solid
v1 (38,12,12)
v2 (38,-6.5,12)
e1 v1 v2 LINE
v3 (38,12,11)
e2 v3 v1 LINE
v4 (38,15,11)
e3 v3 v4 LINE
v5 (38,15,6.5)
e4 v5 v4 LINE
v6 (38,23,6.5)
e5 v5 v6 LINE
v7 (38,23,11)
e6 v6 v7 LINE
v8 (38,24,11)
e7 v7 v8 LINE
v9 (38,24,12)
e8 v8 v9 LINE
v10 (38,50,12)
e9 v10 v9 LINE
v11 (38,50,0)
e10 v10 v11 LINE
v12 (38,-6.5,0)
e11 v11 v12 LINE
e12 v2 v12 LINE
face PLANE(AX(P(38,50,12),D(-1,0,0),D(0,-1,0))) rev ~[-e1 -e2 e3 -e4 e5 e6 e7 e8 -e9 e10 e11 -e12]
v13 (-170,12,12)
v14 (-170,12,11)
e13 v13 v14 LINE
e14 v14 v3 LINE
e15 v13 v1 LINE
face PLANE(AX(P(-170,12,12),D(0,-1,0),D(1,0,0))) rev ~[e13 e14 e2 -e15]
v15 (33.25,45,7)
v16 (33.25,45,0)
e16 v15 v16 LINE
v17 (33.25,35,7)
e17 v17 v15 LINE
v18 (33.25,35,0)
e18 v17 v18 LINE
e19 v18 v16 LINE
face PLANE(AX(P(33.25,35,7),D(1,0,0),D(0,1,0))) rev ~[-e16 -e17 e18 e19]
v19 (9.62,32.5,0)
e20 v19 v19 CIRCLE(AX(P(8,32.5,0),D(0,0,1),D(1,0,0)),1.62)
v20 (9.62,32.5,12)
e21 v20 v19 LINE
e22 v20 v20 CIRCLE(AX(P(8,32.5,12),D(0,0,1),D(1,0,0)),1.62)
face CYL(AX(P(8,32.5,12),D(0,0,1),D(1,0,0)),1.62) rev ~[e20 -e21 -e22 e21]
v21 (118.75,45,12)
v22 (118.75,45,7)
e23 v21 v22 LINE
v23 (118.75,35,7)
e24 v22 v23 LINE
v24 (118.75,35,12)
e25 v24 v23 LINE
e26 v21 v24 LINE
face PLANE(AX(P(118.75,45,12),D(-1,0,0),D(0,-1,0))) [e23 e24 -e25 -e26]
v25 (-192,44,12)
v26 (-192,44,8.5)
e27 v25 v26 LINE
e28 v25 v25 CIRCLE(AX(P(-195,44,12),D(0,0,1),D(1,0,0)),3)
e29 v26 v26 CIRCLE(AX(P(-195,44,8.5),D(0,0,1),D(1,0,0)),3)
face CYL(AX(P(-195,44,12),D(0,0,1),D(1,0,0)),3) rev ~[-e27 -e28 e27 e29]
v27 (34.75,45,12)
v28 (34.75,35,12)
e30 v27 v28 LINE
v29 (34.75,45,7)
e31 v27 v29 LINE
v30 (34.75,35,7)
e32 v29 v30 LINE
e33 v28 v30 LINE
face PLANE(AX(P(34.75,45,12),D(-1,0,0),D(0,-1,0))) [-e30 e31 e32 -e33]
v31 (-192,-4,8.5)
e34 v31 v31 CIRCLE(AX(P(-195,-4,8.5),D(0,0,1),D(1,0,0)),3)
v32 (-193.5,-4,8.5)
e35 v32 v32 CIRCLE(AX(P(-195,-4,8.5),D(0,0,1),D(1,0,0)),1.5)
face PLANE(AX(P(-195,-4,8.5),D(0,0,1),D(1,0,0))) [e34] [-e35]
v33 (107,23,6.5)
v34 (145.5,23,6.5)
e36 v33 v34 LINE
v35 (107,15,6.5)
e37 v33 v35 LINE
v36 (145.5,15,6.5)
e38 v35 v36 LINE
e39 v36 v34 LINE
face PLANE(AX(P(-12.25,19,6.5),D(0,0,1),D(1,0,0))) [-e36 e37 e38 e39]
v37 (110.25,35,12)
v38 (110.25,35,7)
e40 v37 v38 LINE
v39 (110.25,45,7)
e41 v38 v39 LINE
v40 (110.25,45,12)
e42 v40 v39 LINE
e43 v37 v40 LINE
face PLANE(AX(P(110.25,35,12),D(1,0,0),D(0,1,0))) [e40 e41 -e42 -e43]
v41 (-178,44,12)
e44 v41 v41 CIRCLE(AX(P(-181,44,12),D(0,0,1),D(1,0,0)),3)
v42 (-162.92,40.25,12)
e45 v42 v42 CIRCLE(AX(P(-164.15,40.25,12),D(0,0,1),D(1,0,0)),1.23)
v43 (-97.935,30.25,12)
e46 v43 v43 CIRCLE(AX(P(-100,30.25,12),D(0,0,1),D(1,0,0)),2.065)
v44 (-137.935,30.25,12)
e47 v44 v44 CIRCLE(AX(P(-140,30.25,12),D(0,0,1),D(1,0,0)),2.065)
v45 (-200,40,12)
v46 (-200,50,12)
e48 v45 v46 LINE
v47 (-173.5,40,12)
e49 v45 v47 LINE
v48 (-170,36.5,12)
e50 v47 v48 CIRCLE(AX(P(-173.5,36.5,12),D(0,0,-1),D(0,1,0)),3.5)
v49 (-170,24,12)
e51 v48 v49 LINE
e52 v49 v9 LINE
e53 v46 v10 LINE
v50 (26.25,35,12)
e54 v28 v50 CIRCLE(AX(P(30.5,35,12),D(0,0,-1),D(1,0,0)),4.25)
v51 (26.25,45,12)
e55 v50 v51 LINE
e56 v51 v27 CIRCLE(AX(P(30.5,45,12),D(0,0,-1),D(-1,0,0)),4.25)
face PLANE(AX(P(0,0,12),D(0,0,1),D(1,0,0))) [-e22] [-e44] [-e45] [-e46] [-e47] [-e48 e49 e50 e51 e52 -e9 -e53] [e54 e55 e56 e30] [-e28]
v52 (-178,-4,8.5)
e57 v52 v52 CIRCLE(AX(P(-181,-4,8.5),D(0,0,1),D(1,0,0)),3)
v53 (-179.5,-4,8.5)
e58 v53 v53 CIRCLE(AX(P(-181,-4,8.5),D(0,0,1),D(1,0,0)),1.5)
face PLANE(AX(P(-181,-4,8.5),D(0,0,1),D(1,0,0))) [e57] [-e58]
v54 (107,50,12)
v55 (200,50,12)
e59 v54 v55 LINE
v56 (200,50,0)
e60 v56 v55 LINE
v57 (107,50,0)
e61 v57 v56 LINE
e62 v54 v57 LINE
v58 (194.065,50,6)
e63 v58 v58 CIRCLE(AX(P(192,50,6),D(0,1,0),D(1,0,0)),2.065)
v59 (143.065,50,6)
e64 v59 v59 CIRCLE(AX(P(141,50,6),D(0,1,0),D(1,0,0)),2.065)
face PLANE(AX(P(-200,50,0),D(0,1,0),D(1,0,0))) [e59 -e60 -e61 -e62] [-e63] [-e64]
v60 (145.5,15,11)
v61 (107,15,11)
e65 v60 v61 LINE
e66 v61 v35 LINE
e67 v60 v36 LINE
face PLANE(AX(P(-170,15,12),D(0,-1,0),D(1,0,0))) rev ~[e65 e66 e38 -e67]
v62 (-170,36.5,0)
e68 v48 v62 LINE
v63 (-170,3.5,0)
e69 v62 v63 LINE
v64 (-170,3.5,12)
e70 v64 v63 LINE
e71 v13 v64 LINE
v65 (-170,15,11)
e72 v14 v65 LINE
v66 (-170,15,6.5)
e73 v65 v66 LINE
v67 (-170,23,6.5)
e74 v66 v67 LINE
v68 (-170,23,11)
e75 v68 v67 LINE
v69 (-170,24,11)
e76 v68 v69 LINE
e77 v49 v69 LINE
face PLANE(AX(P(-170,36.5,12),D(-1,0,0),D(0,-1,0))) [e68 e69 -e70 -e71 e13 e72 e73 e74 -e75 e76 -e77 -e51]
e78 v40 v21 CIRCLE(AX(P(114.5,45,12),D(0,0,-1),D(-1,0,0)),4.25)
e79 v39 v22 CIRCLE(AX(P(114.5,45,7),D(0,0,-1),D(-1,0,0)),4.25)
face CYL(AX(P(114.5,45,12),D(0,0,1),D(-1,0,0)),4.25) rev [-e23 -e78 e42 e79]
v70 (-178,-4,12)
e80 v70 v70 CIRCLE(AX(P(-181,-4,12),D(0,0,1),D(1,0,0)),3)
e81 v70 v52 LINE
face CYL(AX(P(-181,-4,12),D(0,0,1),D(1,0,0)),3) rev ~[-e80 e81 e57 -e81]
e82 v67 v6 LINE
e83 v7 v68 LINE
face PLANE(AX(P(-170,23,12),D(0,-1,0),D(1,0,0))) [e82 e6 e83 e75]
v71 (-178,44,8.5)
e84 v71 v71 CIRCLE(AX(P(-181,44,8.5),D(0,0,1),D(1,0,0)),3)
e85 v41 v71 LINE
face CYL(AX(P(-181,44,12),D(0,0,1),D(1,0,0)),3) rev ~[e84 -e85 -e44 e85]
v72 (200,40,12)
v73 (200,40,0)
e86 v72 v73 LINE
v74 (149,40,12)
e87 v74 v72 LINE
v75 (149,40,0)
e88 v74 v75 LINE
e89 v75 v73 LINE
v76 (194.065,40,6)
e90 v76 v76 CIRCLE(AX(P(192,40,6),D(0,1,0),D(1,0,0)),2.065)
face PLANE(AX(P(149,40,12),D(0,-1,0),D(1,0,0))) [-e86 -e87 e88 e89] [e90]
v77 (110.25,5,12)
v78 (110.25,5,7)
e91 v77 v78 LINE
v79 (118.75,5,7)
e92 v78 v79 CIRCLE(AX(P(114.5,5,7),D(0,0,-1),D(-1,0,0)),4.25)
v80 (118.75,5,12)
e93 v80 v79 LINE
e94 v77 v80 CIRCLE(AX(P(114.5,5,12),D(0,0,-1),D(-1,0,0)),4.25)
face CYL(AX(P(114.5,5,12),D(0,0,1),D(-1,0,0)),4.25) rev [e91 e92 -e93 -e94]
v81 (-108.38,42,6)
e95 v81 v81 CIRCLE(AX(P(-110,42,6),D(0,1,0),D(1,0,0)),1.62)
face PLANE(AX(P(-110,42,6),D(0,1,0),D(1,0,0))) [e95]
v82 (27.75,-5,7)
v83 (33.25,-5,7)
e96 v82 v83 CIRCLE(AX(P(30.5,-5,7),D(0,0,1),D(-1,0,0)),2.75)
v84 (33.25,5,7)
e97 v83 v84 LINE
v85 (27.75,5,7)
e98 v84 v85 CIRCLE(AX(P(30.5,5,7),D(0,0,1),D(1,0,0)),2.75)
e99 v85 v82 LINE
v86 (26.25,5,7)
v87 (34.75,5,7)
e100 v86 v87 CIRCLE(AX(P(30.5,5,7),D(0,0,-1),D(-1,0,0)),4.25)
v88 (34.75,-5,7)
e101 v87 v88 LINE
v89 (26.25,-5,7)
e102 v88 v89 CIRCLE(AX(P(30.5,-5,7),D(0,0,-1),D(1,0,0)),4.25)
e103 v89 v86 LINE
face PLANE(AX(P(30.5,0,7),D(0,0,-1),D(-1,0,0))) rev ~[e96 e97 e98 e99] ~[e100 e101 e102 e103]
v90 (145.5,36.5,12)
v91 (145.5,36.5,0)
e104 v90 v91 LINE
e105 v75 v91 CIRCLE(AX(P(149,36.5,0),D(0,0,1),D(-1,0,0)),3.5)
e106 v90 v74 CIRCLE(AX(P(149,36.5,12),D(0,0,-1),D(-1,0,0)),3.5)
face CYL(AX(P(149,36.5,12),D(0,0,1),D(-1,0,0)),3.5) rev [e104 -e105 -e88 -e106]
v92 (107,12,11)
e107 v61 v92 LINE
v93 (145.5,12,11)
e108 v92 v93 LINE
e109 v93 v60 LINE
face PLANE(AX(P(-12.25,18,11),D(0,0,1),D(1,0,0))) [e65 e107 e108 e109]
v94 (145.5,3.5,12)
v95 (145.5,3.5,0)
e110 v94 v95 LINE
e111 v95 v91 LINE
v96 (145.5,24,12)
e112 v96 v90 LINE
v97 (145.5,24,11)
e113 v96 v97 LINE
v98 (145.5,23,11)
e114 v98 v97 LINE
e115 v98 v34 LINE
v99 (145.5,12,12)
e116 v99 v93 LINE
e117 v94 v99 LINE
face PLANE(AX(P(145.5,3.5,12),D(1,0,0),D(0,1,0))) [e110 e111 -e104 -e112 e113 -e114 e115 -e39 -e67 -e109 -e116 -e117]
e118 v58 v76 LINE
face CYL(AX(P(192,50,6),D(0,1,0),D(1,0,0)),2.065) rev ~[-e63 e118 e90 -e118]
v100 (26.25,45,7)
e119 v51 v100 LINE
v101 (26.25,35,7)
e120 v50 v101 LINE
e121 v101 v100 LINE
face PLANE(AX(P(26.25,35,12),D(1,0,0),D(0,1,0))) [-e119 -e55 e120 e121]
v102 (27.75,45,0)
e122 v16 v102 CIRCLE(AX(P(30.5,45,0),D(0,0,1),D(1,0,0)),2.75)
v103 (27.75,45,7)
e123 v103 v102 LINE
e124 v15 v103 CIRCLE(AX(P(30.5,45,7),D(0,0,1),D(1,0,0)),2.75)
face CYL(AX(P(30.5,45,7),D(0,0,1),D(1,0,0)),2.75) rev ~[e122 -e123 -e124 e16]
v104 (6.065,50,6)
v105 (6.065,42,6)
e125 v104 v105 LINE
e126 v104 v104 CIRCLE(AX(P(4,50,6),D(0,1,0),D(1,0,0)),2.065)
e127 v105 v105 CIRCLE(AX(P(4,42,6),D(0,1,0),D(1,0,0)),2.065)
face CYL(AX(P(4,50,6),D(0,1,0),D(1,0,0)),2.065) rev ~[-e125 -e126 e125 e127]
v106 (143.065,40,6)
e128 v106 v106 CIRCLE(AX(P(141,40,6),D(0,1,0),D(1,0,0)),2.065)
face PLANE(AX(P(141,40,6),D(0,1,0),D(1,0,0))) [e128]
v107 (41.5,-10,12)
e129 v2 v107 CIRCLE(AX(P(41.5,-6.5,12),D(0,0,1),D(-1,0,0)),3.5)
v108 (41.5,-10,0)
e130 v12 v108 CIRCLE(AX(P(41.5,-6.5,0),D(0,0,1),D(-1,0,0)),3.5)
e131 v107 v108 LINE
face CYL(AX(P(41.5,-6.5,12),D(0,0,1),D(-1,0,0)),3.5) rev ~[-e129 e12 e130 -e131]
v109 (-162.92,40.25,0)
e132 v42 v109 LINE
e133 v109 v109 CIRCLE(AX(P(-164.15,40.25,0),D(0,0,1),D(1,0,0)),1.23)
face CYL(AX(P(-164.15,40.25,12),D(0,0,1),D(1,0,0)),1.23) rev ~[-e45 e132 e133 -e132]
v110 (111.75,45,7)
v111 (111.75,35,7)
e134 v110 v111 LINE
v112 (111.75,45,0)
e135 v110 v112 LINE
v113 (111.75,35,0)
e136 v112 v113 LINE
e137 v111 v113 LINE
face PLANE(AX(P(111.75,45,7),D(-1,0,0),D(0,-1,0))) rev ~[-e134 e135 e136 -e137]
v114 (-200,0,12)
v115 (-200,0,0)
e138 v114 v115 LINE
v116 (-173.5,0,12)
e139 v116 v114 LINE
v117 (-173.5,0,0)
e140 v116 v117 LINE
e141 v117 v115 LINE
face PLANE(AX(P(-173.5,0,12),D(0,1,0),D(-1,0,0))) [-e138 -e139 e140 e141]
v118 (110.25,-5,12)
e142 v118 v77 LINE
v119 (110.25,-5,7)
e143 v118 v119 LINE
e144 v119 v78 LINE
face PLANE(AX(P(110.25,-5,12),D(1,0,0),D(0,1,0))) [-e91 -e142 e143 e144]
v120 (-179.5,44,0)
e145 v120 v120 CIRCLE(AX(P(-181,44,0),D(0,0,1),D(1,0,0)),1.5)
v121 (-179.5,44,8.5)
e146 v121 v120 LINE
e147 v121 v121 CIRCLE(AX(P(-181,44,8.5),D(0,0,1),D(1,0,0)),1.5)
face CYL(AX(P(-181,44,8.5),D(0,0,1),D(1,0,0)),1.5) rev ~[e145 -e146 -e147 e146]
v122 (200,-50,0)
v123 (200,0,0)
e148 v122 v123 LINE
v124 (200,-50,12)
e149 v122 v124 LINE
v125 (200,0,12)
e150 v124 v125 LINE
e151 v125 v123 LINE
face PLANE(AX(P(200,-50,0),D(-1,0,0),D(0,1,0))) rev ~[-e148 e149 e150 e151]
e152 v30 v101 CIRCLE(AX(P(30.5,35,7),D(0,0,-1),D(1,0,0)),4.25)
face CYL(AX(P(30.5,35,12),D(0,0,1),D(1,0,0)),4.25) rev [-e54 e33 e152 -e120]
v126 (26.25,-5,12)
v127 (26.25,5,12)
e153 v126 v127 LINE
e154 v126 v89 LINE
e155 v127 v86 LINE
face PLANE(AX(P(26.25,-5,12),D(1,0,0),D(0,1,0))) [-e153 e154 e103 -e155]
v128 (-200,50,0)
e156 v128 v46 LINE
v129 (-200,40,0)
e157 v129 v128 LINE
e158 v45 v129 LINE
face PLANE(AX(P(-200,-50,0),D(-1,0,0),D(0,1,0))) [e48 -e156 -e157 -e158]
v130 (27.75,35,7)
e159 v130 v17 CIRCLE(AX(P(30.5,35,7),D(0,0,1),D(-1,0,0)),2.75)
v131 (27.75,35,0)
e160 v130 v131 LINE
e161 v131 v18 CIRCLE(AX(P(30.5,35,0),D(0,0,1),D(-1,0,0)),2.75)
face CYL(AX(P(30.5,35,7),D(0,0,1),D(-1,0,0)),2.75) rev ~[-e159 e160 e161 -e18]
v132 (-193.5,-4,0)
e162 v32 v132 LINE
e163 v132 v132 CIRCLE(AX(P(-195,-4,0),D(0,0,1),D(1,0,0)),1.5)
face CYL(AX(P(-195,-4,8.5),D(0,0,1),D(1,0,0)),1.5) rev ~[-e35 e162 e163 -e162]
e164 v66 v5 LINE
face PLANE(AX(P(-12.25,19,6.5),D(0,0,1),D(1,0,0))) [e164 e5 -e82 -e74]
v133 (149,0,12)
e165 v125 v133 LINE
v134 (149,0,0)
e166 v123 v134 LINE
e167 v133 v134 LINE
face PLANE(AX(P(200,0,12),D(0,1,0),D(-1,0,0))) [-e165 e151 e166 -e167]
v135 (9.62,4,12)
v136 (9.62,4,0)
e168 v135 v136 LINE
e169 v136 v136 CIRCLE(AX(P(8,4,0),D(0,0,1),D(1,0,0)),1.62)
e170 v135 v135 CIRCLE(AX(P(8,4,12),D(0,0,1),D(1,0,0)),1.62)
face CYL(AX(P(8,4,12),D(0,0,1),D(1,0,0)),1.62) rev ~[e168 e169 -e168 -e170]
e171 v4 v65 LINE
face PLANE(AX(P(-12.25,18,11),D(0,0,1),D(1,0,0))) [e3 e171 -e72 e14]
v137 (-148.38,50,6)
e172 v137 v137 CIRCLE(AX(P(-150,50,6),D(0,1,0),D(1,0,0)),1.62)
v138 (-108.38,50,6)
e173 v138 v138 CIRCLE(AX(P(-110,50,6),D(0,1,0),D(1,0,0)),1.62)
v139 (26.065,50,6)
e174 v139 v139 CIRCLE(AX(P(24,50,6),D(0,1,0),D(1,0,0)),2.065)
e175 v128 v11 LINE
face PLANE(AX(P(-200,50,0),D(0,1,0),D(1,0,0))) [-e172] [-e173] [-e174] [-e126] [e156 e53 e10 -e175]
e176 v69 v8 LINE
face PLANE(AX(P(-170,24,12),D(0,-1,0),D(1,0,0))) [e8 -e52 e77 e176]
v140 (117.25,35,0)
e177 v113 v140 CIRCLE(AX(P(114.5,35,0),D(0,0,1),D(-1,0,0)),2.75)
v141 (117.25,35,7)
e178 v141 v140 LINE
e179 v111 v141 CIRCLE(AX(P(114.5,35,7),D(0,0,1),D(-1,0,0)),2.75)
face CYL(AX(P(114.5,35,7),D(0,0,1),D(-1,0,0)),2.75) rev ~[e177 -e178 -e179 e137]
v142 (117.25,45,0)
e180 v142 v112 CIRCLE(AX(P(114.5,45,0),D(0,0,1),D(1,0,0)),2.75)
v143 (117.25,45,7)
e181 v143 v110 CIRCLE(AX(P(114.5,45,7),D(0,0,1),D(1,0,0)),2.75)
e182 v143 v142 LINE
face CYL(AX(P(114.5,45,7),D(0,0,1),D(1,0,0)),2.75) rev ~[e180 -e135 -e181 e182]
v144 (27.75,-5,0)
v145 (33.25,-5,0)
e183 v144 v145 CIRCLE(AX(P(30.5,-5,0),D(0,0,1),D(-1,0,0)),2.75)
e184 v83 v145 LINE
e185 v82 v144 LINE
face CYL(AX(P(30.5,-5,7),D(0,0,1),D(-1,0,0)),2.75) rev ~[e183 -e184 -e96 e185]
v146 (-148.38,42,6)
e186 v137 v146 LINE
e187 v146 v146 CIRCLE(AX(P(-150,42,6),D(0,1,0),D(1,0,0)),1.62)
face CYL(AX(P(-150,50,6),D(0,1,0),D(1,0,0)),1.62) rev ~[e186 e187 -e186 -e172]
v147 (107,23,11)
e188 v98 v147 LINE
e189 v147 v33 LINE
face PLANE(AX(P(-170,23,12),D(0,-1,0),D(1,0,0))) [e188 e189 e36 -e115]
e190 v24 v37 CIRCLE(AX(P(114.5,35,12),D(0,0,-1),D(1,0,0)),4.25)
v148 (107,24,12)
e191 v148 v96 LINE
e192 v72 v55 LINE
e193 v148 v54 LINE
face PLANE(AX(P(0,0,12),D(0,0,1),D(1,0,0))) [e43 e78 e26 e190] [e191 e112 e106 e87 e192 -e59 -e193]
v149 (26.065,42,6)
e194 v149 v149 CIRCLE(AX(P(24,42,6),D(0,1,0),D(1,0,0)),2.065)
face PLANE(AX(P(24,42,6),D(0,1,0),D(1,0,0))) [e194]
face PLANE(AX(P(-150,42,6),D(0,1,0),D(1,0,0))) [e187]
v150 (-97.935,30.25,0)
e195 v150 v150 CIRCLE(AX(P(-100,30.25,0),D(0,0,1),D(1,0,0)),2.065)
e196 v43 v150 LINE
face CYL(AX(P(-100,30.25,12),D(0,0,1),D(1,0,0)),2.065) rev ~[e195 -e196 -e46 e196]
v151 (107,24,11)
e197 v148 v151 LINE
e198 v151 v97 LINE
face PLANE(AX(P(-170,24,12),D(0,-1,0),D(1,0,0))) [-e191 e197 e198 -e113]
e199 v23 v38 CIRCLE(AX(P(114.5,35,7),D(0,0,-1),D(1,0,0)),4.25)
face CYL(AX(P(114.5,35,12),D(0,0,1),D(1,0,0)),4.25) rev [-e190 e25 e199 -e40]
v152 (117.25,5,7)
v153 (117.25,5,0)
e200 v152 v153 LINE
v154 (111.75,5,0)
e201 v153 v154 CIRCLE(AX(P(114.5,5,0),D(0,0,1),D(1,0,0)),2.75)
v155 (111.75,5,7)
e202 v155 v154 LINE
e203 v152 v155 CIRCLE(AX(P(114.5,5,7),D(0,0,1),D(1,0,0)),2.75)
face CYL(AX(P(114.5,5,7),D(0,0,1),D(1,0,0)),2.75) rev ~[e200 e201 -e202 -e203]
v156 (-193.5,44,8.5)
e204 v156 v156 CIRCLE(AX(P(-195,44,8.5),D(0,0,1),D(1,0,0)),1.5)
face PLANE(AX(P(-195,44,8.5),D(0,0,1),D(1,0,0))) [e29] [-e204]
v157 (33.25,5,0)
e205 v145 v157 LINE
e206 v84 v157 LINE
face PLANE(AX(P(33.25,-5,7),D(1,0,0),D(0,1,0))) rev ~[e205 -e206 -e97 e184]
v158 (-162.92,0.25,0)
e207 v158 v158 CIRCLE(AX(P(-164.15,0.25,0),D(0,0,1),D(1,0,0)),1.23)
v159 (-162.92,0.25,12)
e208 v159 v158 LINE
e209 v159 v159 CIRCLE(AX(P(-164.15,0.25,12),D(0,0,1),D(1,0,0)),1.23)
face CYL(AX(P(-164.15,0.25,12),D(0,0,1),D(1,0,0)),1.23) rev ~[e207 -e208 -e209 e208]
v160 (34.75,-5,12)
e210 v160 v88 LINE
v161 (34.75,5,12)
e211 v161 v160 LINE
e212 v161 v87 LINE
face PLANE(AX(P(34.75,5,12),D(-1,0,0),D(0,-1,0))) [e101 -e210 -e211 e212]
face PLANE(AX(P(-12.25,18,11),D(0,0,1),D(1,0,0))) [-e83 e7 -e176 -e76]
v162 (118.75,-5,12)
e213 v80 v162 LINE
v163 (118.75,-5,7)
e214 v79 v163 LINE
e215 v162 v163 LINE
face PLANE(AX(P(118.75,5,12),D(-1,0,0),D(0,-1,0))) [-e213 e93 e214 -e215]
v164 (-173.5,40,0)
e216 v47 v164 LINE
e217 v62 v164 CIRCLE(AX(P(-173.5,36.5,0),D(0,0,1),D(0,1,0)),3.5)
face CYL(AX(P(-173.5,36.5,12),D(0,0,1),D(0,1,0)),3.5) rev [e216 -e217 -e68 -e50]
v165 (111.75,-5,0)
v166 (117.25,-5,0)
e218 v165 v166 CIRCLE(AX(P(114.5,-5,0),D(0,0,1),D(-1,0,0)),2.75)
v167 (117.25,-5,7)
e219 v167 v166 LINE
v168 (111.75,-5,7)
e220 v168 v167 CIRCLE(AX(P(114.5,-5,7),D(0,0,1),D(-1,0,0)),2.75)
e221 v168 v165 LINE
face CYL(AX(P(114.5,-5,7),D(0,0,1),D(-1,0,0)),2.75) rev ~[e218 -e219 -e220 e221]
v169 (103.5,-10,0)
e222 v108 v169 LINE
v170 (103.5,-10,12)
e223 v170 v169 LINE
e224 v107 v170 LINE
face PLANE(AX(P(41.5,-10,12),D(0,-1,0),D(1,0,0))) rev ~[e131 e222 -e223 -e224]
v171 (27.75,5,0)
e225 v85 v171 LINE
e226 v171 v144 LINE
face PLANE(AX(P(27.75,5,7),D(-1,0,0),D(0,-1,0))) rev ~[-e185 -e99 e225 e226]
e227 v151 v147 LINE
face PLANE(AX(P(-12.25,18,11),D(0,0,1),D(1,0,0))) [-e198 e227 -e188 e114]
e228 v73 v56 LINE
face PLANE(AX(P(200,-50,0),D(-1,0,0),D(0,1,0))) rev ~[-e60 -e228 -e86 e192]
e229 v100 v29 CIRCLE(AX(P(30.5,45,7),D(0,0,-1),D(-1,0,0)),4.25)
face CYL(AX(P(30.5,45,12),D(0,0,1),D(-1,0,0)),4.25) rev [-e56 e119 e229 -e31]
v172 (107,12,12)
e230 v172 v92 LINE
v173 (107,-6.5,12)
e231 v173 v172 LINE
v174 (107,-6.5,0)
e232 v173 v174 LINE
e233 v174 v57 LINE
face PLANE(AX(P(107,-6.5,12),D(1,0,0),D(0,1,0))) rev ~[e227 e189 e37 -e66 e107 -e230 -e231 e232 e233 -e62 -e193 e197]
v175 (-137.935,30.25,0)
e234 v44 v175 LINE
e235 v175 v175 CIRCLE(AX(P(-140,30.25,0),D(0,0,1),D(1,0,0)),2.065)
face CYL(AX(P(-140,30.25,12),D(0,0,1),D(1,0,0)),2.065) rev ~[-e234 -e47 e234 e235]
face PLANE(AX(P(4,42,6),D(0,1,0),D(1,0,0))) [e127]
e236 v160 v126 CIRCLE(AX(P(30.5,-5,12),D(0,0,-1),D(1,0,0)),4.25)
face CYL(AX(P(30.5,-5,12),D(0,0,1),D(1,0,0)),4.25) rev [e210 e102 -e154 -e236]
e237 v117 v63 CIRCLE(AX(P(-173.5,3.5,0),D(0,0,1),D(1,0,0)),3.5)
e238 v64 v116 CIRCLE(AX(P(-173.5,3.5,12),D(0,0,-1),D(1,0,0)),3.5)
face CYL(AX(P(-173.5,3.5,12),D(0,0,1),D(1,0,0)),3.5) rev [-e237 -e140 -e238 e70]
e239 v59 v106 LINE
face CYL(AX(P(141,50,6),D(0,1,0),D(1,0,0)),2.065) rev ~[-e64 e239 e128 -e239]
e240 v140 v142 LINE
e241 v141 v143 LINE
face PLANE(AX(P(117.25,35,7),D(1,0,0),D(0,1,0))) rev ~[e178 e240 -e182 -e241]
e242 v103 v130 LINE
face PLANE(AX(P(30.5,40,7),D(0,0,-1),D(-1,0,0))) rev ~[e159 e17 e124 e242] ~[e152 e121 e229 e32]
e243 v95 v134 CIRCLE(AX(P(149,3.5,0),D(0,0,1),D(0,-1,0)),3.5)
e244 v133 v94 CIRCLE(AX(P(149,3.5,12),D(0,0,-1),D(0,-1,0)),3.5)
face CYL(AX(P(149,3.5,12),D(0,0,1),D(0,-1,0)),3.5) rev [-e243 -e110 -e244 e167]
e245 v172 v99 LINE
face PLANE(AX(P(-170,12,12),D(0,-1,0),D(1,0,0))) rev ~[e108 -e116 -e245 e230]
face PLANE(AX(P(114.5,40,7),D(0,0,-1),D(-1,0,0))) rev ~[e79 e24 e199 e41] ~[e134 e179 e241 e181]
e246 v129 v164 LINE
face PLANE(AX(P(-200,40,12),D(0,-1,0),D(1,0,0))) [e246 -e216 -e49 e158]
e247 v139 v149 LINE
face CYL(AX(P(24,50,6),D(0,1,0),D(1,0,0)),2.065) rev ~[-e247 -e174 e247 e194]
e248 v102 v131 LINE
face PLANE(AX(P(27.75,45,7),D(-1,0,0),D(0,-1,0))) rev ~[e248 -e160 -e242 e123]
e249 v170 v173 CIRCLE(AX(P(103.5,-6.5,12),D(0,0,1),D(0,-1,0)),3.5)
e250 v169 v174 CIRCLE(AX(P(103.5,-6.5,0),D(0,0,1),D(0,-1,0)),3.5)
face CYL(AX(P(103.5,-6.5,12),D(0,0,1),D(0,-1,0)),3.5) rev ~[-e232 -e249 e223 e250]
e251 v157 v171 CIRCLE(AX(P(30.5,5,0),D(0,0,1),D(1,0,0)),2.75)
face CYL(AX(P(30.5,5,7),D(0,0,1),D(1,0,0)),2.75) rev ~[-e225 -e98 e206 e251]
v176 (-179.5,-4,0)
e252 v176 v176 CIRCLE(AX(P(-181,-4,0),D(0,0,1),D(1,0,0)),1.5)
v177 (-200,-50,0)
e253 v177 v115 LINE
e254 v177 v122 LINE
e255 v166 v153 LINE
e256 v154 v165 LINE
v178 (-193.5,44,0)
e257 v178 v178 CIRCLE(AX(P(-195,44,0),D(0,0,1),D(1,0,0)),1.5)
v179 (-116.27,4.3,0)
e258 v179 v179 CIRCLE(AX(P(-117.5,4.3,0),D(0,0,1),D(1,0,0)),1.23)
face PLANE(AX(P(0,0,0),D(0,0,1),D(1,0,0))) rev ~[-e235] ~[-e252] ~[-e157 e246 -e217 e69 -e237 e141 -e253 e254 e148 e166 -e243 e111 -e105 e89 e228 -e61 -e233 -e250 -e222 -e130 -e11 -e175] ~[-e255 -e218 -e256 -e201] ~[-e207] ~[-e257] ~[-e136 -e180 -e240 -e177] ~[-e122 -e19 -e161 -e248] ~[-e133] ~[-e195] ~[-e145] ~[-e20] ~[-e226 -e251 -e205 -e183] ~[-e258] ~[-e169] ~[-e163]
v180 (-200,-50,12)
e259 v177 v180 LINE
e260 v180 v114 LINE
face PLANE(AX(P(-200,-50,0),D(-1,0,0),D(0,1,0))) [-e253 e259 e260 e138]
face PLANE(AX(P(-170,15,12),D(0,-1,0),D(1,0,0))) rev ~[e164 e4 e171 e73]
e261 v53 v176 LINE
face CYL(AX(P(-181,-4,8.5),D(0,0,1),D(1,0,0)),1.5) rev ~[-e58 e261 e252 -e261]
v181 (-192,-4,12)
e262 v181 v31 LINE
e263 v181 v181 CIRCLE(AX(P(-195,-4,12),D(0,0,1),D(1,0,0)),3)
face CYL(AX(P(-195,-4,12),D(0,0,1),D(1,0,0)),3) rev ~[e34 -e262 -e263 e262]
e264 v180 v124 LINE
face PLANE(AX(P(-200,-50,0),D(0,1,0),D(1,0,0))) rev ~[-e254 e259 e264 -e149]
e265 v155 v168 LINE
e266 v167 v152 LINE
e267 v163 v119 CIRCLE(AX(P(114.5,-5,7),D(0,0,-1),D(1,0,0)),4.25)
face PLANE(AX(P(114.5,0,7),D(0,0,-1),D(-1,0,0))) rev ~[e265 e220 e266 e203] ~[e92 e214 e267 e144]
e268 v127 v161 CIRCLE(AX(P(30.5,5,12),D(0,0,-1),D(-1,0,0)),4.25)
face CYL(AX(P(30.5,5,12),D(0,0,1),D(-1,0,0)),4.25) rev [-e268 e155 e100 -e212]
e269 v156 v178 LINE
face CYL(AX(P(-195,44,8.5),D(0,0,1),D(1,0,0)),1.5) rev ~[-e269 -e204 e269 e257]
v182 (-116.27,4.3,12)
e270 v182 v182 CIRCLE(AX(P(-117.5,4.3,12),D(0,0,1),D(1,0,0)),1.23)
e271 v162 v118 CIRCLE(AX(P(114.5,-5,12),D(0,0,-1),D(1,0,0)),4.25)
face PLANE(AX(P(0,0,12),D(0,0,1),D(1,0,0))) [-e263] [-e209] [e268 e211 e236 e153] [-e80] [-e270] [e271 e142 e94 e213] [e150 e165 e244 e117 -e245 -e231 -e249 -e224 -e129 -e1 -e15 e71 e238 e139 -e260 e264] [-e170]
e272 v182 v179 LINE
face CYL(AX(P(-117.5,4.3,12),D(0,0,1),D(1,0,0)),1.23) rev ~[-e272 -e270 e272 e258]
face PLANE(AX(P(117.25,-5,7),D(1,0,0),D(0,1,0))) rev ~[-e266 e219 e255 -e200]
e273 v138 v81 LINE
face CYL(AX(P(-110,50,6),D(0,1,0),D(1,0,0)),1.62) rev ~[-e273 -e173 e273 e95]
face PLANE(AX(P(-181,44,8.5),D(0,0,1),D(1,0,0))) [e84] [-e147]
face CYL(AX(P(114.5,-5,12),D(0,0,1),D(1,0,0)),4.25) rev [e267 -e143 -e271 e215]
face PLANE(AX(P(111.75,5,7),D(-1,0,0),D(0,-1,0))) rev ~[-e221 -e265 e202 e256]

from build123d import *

# Parameters (mm, degrees)
SKETCH1_W                    = 400
SKETCH1_H                    = 100
BASE_DEPTH                   = 12
PART_TAPE_MOVER_CUTOUT_DEPTH = 13
PRESS_PLATE_CUTOUT_DEPTH     = 13
ROLLER_CUTOUT_DEPTH          = 13
SKETCH5_W                    = 315.5
SKETCH5_H                    = 8
PART_TAPE_CUTOUT_DEPTH       = 5.5
SKETCH6_W                    = 315.5
SKETCH6_H                    = 12
CUT_EXTRUDE5_DEPTH           = 1
SKETCH9_R                    = 2.065
CUT_EXTRUDE8_DEPTH           = 10
CUT_EXTRUDE9_DEPTH           = 5
CUT_EXTRUDE10_DEPTH          = 8
LPATTERN1_COUNT              = 2
LPATTERN1_PITCH              = 84
LPATTERN1_COUNT_DIR2         = 2
LPATTERN1_PITCH_DIR2         = 40
SKETCH13_R                   = 3
CUT_EXTRUDE11_DEPTH          = 3.5
SKETCH14_R                   = 1.5
CUT_EXTRUDE12_DEPTH          = 9.5
LPATTERN2_COUNT              = 2
LPATTERN2_PITCH              = 48
SKETCH15_R                   = 1.23
CUT_EXTRUDE13_DEPTH          = 13
SKETCH16_R                   = 2.065
CUT_EXTRUDE14_DEPTH          = 13
SKETCH18_R                   = 1.62
CUT_EXTRUDE15_DEPTH          = 13
SKETCH19_R                   = 2.065
SKETCH19_R_2                 = 1.62
CUT_EXTRUDE16_DEPTH          = 8


with BuildPart() as part:
    # Sketch1 → Base (new body)
    with BuildSketch(Plane.XY):
        Rectangle(SKETCH1_W, SKETCH1_H)
    extrude(amount=BASE_DEPTH)

    # Sketch2 → Part Tape Mover Cutout (cut, through all)
    with BuildSketch(Plane.XY.offset(12)):
        with BuildLine():
            Line((200, 0), (149, 0))
            ThreePointArc((149, 0), (146.525126266, 1.025126266), (145.5, 3.5))
            Line((145.5, 3.5), (145.5, 36.5))
            ThreePointArc((145.5, 36.5), (146.525126266, 38.974873734), (149, 40))
            Line((149, 40), (200, 40))
            Line((200, 40), (200, 0))
        make_face()
    extrude(amount=-PART_TAPE_MOVER_CUTOUT_DEPTH, mode=Mode.SUBTRACT)

    # Sketch3 → Press Plate Cutout (cut, through all)
    with BuildSketch(Plane.XY.offset(12)):
        with BuildLine():
            Line((41.5, -10), (103.5, -10))
            ThreePointArc((103.5, -10), (105.974873734, -8.974873734), (107, -6.5))
            Line((107, -6.5), (107, 50))
            Line((107, 50), (38, 50))
            Line((38, 50), (38, -6.5))
            ThreePointArc((38, -6.5), (39.025126266, -8.974873734), (41.5, -10))
        make_face()
    extrude(amount=-PRESS_PLATE_CUTOUT_DEPTH, mode=Mode.SUBTRACT)

    # Sketch4 → Roller Cutout (cut, through all)
    with BuildSketch(Plane.XY.offset(12)):
        with BuildLine():
            Line((-200, 40), (-173.5, 40))
            ThreePointArc((-173.5, 40), (-171.025126266, 38.974873734), (-170, 36.5))
            Line((-170, 36.5), (-170, 3.5))
            ThreePointArc((-170, 3.5), (-171.025126266, 1.025126266), (-173.5, 0))
            Line((-173.5, 0), (-200, 0))
            Line((-200, 0), (-200, 40))
        make_face()
    extrude(amount=-ROLLER_CUTOUT_DEPTH, mode=Mode.SUBTRACT)

    # Sketch5 → Part Tape Cutout (cut)
    with BuildSketch(Plane.XY.offset(12)):
        with Locations((-12.25, 19)):
            Rectangle(SKETCH5_W, SKETCH5_H)
    extrude(amount=-PART_TAPE_CUTOUT_DEPTH, mode=Mode.SUBTRACT)

    # Sketch6 → Cut-Extrude5 (cut)
    with BuildSketch(Plane.XY.offset(12)):
        with Locations((-12.25, 18)):
            Rectangle(SKETCH6_W, SKETCH6_H)
    extrude(amount=-CUT_EXTRUDE5_DEPTH, mode=Mode.SUBTRACT)

    # Sketch9 → Cut-Extrude8 (cut)
    with BuildSketch(Plane(origin=(0, 50, 0), x_dir=(1, 0, 0), z_dir=(0, 1, 0))):
        with Locations((141, -6)):
            Circle(SKETCH9_R)
        with Locations((192, -6)):
            Circle(SKETCH9_R)
    extrude(amount=-CUT_EXTRUDE8_DEPTH, mode=Mode.SUBTRACT)

    # Sketch11 → Cut-Extrude9 (cut)
    with BuildSketch(Plane.XY.offset(12)):
        with BuildLine():
            Line((110.25, 35), (110.25, 45))
            ThreePointArc((110.25, 45), (114.5, 49.25), (118.75, 45))
            Line((118.75, 45), (118.75, 35))
            ThreePointArc((118.75, 35), (114.5, 30.75), (110.25, 35))
        make_face()
    cut_extrude9 = extrude(amount=-CUT_EXTRUDE9_DEPTH, mode=Mode.SUBTRACT)

    # Sketch12 → Cut-Extrude10 (cut, through all)
    with BuildSketch(Plane.XY.offset(7)):
        with BuildLine():
            Line((117.25, 35), (117.25, 45))
            ThreePointArc((117.25, 45), (114.5, 47.75), (111.75, 45))
            Line((111.75, 45), (111.75, 35))
            ThreePointArc((111.75, 35), (114.5, 32.25), (117.25, 35))
        make_face()
    cut_extrude10 = extrude(amount=-CUT_EXTRUDE10_DEPTH, mode=Mode.SUBTRACT)

    # LPattern1: Cut-Extrude9, Cut-Extrude10 2 × 2
    with Locations(*[(-i * LPATTERN1_PITCH, -j * LPATTERN1_PITCH_DIR2, 0) for i in range(LPATTERN1_COUNT) for j in range(LPATTERN1_COUNT_DIR2) if (i, j) != (0, 0)]):
        add(cut_extrude9, mode=Mode.SUBTRACT)
        add(cut_extrude10, mode=Mode.SUBTRACT)

    # Sketch13 → Cut-Extrude11 (cut)
    with BuildSketch(Plane.XY.offset(12)):
        with Locations((-181, 44)):
            Circle(SKETCH13_R)
        with Locations((-195, 44)):
            Circle(SKETCH13_R)
    cut_extrude11 = extrude(amount=-CUT_EXTRUDE11_DEPTH, mode=Mode.SUBTRACT)

    # Sketch14 → Cut-Extrude12 (cut, through all)
    with BuildSketch(Plane.XY.offset(8.5)):
        with Locations((-181, 44)):
            Circle(SKETCH14_R)
        with Locations((-195, 44)):
            Circle(SKETCH14_R)
    cut_extrude12 = extrude(amount=-CUT_EXTRUDE12_DEPTH, mode=Mode.SUBTRACT)

    # LPattern2: Cut-Extrude11, Cut-Extrude12 ×2
    with Locations(*[(0, -i * LPATTERN2_PITCH, 0) for i in range(1, LPATTERN2_COUNT)]):
        add(cut_extrude11, mode=Mode.SUBTRACT)
        add(cut_extrude12, mode=Mode.SUBTRACT)

    # Sketch15 → Cut-Extrude13 (cut, through all)
    with BuildSketch(Plane.XY.offset(12)):
        with Locations((-164.15, 40.25)):
            Circle(SKETCH15_R)
        with Locations((-164.15, 0.25)):
            Circle(SKETCH15_R)
        with Locations((-117.5, 4.3)):
            Circle(SKETCH15_R)
    extrude(amount=-CUT_EXTRUDE13_DEPTH, mode=Mode.SUBTRACT)

    # Sketch16 → Cut-Extrude14 (cut, through all)
    with BuildSketch(Plane.XY.offset(12)):
        with Locations((-140, 30.25)):
            Circle(SKETCH16_R)
        with Locations((-100, 30.25)):
            Circle(SKETCH16_R)
    extrude(amount=-CUT_EXTRUDE14_DEPTH, mode=Mode.SUBTRACT)

    # Sketch18 → Cut-Extrude15 (cut, through all)
    with BuildSketch(Plane.XY.offset(12)):
        with Locations((8, 32.5)):
            Circle(SKETCH18_R)
        with Locations((8, 4)):
            Circle(SKETCH18_R)
    extrude(amount=-CUT_EXTRUDE15_DEPTH, mode=Mode.SUBTRACT)

    # Sketch19 → Cut-Extrude16 (cut)
    with BuildSketch(Plane(origin=(0, 50, 0), x_dir=(1, 0, 0), z_dir=(0, 1, 0))):
        with Locations((24, -6)):
            Circle(SKETCH19_R)
        with Locations((4, -6)):
            Circle(SKETCH19_R)
        with Locations((-110, -6)):
            Circle(SKETCH19_R_2)
        with Locations((-150, -6)):
            Circle(SKETCH19_R_2)
    extrude(amount=-CUT_EXTRUDE16_DEPTH, mode=Mode.SUBTRACT)


solid = part.part
